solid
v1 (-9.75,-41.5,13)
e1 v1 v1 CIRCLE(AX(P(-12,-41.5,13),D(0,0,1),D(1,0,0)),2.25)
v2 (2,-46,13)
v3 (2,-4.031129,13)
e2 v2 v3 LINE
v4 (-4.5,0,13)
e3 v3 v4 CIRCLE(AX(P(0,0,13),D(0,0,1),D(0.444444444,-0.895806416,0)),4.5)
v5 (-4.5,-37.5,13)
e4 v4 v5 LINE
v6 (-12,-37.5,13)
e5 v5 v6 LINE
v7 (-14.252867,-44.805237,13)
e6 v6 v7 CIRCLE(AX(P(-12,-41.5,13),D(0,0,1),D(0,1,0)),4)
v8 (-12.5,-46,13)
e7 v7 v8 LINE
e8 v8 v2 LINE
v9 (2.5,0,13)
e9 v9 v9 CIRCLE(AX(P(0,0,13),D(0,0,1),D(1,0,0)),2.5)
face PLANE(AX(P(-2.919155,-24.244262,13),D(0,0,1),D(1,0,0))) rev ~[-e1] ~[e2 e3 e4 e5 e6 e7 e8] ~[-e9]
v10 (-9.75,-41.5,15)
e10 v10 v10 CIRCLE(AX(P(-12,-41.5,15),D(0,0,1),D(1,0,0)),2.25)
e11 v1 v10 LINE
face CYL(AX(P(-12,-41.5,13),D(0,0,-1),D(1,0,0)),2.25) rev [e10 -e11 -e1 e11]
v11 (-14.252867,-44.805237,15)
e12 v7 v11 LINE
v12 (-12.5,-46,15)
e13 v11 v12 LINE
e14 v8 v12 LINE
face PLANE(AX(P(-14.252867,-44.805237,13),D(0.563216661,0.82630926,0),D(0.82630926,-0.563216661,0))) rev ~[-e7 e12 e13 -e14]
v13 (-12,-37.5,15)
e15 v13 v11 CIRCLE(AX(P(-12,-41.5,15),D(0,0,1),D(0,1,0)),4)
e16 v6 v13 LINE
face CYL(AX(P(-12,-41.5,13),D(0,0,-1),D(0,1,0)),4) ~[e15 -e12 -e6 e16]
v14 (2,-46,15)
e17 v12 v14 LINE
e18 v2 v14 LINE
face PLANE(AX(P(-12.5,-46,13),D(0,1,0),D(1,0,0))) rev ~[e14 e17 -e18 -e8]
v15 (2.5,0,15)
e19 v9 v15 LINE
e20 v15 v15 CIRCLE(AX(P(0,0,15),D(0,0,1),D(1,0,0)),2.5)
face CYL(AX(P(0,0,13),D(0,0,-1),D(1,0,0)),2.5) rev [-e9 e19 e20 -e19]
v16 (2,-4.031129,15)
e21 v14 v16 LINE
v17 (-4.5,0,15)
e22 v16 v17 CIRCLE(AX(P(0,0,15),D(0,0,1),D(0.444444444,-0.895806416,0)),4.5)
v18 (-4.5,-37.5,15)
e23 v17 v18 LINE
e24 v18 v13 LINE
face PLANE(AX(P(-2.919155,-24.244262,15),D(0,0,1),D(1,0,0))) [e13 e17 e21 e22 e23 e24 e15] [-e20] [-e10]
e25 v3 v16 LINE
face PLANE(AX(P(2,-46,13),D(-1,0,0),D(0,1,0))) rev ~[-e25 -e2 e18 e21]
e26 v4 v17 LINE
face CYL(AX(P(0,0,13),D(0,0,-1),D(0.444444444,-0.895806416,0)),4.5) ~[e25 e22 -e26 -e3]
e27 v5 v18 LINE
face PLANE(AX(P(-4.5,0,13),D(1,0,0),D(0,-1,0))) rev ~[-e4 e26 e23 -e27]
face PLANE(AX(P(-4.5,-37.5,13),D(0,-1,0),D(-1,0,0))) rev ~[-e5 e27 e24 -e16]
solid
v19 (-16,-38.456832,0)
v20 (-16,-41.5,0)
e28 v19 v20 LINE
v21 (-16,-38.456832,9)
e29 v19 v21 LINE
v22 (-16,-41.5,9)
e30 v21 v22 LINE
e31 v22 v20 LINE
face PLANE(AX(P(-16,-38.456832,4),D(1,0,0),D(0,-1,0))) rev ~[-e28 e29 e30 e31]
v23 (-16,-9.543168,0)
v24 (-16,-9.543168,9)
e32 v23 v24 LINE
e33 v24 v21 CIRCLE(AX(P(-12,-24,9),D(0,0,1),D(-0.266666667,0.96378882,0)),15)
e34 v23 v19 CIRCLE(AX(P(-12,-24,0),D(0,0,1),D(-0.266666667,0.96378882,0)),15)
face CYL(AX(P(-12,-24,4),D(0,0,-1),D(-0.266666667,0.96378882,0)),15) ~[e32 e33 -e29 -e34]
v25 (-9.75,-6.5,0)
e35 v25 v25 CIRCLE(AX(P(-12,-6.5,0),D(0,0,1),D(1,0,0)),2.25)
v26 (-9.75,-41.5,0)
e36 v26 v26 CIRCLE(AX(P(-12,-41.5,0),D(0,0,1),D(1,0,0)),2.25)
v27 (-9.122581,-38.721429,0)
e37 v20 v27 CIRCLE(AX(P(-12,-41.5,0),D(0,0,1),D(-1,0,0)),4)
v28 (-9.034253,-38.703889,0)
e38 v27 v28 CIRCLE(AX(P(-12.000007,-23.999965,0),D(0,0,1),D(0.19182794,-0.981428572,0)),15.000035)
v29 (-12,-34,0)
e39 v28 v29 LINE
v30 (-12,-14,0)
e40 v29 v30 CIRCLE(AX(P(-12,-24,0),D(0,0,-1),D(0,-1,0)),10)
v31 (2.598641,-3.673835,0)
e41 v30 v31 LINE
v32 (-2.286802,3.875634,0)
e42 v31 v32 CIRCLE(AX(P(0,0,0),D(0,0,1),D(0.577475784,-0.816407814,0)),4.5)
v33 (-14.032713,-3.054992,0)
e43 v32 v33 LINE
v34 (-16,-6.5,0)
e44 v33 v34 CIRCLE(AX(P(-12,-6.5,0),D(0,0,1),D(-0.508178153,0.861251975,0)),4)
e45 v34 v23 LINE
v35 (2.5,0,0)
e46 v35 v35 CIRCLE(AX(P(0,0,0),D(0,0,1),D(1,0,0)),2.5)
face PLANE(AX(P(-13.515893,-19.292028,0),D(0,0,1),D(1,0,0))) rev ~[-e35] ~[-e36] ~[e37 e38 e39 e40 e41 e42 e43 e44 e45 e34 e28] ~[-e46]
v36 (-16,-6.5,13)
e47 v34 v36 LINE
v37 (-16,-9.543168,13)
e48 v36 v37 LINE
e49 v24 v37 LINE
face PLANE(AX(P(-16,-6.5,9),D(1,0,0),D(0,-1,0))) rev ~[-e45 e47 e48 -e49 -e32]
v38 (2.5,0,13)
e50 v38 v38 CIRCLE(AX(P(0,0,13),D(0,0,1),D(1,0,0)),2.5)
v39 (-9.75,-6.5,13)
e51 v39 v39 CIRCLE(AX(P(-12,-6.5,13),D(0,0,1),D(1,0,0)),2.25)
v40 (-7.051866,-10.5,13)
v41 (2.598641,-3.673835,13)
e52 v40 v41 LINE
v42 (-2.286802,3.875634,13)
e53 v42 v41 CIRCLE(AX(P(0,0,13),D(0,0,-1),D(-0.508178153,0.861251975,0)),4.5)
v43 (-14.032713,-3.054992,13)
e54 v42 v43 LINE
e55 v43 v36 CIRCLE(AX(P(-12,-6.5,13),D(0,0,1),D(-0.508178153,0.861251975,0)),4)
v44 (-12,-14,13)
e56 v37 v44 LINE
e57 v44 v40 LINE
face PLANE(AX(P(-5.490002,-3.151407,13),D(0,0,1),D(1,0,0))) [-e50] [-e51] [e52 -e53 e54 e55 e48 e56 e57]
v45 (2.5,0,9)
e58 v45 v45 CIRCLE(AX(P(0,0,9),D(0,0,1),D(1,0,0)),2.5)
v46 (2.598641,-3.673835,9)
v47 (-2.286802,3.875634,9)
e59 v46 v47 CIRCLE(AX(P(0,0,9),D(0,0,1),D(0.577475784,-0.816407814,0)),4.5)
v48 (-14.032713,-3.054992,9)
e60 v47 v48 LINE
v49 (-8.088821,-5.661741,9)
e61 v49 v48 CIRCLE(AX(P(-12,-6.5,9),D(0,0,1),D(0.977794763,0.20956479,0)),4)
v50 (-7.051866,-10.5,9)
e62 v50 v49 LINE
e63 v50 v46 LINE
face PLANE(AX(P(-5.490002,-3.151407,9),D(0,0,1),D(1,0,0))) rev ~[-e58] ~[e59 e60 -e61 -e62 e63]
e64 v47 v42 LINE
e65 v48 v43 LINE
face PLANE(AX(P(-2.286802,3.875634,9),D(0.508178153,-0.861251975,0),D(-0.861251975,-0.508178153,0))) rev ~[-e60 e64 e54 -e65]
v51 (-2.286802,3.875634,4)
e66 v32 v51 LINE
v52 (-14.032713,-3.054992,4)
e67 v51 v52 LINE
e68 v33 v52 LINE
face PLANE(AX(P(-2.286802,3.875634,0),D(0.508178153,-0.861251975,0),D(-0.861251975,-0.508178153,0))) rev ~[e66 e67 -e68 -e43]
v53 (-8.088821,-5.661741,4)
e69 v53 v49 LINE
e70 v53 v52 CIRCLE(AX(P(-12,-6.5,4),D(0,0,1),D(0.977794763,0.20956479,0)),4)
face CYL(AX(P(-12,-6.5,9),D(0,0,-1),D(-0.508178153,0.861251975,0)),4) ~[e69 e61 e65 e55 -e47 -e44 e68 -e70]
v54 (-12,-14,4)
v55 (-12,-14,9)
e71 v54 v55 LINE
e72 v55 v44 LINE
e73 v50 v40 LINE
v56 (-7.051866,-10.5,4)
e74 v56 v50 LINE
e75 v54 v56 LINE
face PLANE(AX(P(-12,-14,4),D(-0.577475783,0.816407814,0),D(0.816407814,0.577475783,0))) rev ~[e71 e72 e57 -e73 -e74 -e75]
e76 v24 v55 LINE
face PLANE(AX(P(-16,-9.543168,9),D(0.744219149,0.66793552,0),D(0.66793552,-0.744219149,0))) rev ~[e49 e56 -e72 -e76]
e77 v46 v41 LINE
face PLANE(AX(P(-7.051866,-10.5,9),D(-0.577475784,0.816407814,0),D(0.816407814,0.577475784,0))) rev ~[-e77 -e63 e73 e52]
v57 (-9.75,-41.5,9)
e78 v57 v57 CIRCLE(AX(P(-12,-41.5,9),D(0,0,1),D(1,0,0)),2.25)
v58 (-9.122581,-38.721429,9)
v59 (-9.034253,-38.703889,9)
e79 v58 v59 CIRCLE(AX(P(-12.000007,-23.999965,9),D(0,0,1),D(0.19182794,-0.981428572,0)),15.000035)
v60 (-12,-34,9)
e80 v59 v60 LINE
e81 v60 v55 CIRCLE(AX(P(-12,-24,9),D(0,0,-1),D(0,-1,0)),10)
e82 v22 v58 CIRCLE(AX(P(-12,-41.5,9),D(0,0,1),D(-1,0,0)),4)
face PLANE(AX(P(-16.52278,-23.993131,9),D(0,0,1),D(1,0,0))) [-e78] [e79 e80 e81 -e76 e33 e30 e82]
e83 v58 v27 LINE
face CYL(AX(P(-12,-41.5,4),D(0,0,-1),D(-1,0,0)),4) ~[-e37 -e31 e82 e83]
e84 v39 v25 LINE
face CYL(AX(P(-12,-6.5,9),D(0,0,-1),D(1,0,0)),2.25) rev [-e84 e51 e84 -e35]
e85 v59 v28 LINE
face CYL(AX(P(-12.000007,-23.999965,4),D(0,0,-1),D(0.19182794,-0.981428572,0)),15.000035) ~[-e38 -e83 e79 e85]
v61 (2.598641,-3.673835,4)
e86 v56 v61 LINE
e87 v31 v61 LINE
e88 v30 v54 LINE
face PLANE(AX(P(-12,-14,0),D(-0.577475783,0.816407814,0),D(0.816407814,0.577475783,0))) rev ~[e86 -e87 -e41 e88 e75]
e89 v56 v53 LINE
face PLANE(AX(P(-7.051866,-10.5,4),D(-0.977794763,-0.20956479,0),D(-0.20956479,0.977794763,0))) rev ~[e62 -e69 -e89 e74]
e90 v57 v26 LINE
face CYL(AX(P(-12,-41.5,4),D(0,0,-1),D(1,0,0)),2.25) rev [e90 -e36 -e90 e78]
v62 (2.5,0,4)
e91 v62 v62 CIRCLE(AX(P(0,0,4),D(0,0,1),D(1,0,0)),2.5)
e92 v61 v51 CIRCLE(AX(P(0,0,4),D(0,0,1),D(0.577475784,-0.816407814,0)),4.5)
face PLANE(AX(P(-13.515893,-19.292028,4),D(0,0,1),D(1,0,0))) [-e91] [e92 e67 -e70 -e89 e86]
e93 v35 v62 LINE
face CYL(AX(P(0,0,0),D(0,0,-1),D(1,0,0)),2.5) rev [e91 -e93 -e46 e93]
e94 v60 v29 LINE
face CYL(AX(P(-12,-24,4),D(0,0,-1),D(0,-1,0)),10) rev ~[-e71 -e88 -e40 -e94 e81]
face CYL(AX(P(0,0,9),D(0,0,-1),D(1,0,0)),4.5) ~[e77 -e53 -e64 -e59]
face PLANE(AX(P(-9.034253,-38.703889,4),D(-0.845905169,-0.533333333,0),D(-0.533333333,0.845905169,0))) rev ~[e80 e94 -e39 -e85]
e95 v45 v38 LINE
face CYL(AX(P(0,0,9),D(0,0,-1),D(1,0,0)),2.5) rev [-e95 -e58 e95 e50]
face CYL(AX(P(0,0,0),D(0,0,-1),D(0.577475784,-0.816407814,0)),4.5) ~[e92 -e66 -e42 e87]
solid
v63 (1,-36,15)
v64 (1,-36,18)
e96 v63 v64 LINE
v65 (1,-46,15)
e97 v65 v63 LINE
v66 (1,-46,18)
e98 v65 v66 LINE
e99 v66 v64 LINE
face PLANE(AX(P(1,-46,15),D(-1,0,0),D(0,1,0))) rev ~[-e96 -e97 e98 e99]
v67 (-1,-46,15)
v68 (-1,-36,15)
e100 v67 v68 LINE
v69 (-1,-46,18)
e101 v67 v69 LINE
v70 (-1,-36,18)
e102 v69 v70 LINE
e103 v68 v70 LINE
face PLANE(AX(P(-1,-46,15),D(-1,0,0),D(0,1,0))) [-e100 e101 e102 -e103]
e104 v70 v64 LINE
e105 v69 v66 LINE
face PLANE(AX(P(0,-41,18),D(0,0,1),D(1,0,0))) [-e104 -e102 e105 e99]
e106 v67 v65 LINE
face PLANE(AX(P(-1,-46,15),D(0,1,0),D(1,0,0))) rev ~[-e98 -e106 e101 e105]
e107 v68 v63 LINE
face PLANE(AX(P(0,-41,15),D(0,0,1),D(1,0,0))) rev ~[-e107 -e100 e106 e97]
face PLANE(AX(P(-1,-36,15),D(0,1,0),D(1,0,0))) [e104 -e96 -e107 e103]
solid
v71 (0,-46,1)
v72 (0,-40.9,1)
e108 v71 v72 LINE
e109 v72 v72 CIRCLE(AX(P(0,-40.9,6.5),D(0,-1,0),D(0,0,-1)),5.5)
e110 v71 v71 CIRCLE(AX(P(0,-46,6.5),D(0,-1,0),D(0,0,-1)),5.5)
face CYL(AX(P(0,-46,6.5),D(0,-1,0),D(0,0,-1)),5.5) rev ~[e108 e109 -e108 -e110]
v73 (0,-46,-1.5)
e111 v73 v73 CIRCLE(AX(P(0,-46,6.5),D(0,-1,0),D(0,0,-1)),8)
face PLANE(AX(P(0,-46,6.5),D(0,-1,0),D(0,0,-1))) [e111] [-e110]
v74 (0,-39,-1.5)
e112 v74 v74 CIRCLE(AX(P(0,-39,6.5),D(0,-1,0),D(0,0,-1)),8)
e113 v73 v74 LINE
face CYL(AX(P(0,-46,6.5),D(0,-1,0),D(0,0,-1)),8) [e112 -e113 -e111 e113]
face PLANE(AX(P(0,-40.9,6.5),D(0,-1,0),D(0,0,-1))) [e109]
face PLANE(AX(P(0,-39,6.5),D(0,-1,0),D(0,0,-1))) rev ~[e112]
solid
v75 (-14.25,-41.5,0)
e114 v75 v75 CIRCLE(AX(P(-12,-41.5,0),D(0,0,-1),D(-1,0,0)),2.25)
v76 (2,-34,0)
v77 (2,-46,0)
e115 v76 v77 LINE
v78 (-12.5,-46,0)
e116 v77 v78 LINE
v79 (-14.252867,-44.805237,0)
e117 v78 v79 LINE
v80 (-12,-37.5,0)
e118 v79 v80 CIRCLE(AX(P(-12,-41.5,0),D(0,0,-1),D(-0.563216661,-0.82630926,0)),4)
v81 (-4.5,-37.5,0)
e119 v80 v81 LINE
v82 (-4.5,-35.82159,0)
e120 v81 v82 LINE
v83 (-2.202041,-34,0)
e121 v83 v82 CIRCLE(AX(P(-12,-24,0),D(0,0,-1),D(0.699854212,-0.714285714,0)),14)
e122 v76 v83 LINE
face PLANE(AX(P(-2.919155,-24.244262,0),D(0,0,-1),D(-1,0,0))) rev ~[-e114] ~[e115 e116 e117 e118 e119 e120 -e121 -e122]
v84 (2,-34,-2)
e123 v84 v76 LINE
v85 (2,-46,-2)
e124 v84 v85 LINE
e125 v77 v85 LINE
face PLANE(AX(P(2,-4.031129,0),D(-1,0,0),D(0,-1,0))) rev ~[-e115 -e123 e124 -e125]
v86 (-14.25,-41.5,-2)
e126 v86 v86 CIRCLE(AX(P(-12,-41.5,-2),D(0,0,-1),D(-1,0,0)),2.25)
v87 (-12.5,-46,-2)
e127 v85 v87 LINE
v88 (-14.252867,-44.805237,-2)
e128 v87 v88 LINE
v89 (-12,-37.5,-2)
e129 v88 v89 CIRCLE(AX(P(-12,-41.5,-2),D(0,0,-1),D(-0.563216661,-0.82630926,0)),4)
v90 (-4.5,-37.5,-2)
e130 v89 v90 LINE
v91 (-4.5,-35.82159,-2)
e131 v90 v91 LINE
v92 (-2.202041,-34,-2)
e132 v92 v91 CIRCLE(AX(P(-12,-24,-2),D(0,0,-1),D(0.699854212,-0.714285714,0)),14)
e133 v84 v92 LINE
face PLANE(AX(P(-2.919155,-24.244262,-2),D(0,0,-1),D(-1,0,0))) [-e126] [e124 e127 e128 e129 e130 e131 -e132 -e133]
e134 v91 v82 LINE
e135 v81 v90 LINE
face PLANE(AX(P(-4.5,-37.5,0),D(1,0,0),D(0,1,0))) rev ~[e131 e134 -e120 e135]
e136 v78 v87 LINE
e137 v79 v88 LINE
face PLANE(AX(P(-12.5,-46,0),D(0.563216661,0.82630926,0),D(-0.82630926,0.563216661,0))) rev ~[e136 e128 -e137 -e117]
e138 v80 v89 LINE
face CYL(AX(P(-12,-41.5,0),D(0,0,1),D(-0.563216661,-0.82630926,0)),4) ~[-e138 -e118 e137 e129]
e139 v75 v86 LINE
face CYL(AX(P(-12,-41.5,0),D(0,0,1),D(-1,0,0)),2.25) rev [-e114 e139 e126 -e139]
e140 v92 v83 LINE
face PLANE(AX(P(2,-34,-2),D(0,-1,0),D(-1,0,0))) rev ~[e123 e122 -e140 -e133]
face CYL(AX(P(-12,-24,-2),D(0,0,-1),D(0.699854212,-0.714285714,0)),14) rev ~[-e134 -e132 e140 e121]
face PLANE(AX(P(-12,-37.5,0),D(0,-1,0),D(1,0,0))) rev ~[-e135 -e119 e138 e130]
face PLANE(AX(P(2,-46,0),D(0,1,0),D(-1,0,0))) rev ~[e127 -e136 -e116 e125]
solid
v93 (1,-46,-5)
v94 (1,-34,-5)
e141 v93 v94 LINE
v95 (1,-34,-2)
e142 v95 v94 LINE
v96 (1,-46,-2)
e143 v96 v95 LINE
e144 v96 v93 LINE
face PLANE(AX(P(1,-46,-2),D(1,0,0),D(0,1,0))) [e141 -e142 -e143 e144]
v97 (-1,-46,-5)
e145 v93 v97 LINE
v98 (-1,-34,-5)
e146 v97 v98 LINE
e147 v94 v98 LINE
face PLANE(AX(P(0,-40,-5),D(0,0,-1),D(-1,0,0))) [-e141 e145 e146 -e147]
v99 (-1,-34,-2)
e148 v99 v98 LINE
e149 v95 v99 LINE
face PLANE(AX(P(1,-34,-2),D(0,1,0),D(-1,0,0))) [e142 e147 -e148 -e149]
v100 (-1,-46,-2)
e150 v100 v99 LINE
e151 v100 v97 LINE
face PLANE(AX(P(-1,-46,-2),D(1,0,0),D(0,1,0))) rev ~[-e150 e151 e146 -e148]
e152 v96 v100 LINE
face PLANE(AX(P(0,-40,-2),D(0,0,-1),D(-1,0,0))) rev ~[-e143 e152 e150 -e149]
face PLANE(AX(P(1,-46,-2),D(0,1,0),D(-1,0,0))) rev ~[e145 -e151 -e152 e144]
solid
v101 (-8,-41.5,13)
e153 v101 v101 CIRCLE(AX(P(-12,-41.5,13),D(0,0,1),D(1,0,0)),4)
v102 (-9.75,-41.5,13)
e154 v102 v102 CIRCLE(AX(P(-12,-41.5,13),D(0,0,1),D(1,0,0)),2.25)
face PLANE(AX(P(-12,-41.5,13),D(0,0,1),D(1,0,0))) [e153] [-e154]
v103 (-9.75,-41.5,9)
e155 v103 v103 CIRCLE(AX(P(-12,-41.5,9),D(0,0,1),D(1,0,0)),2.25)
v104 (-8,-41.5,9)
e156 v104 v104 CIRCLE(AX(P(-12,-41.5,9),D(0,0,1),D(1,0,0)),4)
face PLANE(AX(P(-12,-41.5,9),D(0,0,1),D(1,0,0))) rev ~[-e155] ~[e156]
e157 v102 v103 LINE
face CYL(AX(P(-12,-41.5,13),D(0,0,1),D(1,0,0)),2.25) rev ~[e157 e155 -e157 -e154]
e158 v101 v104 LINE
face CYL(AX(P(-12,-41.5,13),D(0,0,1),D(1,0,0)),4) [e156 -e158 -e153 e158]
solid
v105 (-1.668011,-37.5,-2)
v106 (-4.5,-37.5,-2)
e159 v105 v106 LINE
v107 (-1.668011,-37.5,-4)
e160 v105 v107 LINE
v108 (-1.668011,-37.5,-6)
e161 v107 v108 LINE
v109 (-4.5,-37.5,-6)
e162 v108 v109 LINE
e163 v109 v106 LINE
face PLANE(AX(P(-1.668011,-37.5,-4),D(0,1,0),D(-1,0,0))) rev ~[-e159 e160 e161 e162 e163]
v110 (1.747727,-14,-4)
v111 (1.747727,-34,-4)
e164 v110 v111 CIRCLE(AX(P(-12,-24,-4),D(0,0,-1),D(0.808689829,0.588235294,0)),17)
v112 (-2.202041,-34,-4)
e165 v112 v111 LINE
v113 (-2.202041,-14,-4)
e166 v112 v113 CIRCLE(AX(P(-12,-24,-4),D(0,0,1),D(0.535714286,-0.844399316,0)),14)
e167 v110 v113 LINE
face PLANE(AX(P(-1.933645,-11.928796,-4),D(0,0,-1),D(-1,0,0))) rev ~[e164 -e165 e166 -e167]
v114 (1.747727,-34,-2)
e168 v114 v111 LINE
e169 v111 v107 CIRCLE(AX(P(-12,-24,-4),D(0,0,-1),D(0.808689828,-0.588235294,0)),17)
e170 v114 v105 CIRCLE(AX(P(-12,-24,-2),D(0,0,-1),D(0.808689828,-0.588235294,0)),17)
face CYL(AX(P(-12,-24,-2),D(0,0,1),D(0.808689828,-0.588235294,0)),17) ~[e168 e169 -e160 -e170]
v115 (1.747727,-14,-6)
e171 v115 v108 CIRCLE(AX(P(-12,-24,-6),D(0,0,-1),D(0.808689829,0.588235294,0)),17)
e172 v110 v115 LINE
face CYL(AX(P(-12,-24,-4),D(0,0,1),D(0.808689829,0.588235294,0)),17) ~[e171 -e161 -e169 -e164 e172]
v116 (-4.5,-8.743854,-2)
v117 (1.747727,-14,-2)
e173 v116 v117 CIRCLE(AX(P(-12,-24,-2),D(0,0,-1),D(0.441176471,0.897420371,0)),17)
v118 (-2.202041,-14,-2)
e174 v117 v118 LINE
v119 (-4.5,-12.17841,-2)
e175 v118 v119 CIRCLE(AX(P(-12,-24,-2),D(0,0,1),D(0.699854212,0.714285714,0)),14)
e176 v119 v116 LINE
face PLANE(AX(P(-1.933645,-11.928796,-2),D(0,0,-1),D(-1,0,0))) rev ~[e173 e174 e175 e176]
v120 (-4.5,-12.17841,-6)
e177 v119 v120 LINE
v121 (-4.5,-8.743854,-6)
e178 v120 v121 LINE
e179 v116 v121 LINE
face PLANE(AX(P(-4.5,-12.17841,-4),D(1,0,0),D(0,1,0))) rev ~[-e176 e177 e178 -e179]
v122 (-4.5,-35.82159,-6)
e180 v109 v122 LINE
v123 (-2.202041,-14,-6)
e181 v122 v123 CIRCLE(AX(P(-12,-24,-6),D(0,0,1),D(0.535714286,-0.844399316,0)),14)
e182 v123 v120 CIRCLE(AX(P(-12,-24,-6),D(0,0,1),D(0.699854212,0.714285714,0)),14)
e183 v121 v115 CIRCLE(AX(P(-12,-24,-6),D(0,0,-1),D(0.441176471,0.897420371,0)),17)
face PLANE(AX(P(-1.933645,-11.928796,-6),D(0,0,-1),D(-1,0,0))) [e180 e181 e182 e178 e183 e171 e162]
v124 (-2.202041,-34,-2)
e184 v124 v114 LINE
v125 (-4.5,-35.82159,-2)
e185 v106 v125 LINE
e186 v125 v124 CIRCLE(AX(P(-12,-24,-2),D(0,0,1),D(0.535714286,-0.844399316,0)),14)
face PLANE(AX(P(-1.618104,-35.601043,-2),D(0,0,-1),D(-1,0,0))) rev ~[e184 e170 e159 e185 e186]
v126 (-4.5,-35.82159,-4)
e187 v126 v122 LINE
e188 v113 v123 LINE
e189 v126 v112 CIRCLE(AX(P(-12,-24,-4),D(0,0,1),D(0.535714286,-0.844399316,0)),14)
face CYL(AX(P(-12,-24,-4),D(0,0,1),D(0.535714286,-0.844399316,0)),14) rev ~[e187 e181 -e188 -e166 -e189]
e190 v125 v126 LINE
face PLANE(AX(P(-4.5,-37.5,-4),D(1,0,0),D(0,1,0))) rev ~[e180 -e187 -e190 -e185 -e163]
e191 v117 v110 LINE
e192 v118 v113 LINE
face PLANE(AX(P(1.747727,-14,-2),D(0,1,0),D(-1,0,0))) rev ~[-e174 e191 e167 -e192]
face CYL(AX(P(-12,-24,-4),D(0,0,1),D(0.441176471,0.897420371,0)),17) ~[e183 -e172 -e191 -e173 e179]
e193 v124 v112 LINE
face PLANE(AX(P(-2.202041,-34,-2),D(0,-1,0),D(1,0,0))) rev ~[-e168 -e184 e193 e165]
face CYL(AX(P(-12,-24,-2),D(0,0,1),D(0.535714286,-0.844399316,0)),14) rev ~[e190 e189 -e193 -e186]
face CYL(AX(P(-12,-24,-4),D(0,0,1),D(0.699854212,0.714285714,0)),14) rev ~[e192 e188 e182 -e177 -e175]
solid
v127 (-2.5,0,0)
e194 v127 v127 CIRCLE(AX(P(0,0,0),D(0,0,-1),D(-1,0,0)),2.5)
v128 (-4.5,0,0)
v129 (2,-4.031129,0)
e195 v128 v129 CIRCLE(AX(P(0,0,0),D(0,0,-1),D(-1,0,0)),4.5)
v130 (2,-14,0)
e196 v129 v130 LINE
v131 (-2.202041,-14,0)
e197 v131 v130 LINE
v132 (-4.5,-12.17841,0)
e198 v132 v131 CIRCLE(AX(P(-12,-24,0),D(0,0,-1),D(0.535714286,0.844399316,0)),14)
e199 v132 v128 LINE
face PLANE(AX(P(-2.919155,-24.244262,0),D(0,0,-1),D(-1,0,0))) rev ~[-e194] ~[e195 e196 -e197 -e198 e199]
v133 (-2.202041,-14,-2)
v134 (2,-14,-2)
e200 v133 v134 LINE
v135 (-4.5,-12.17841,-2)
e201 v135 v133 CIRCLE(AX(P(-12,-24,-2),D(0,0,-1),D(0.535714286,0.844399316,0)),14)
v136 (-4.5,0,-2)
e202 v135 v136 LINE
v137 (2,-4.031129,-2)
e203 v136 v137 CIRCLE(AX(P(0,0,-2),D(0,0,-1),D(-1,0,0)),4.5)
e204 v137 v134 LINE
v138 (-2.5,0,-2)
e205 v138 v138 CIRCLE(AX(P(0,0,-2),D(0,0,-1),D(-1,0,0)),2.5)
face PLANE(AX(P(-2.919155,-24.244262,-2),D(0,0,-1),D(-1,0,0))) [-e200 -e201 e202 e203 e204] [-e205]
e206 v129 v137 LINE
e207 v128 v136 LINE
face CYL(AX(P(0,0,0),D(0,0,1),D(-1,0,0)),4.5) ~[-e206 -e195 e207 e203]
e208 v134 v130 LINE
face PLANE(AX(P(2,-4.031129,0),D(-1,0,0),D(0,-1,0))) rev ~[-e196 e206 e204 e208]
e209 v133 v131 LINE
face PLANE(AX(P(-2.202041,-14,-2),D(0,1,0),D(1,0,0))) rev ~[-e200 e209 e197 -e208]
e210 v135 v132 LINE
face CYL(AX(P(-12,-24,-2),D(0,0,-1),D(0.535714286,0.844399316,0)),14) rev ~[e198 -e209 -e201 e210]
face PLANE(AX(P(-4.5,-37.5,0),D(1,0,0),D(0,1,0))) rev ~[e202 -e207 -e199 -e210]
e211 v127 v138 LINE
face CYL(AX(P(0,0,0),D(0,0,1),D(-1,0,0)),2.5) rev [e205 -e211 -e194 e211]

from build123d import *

# Parameters (mm, degrees)
SKETCH_1_R          = 2.25
SKETCH_1_R_2        = 2.5
EXTRUDE_1_DEPTH     = 4
SKETCH_2_R          = 2.25
EXTRUDE_2_DEPTH     = 5
SKETCH_5_R          = 2.25
SKETCH_5_R_2        = 4.5
SKETCH_5_R_3        = 2.5
EXTRUDE_3_DEPTH     = 4
SKETCH_6_R          = 2.5
SKETCH_6_R_2        = 2.25
EXTRUDE_6_DEPTH     = 2
SKETCH_6_3_R        = 4
SKETCH_6_3_R_2      = 2.25
EXTRUDE_8_DEPTH     = 4
SKETCH_7_R          = 2.5
SKETCH_7_R_2        = 2.25
EXTRUDE_9_DEPTH     = 2
CUT_EXTRUDE_1_DEPTH = 2
EXTRUDE_10_DEPTH    = 2
EXTRUDE_10_2_DEPTH  = 2
EXTRUDE_11_DEPTH    = 2
SKETCH_12_R         = 8
EXTRUDE_12_DEPTH    = 7
SKETCH_13_R         = 5.5
CUT_EXTRUDE_2_DEPTH = 5.1
SKETCH_14_W         = 2
SKETCH_14_H         = 10
EXTRUDE_13_DEPTH    = 3
SKETCH_15_W         = 2
SKETCH_15_H         = 12
EXTRUDE_14_DEPTH    = 3


with BuildPart() as part:
    # Эскиз1 → Бобышка-Вытянуть1 (new body)
    with BuildSketch(Plane.XY):
        with BuildLine():
            Line((-2.286801689, 3.875633888), (-14.032712613, -3.0549921))
            ThreePointArc((-14.032712613, -3.0549921), (-15.473532097, -4.516423741), (-16, -6.5))
            Line((-16, -6.5), (-16, -9.543167705))
            ThreePointArc((-16, -9.543167705), (-27, -24), (-16, -38.456832295))
            Line((-16, -38.456832295), (-16, -41.5))
            ThreePointArc((-16, -41.5), (-10.501613617, -45.208751575), (-9.122580876, -38.721428571))
            ThreePointArc((-9.122580876, -38.721428571), (-9.078403799, -38.712724956), (-9.034253047, -38.703888772))
            Line((-9.034253047, -38.703888772), (-12, -34))
            ThreePointArc((-12, -34), (-22, -24), (-12, -14))
            Line((-12, -14), (2.598641026, -3.673835165))
            ThreePointArc((2.598641026, -3.673835165), (3.777953373, 2.44480435), (-2.286801689, 3.875633888))
        make_face()
        with Locations((-12, -41.5)):
            Circle(SKETCH_1_R, mode=Mode.SUBTRACT)
        with Locations((-12, -6.5)):
            Circle(SKETCH_1_R, mode=Mode.SUBTRACT)
        Circle(SKETCH_1_R_2, mode=Mode.SUBTRACT)
    extrude(amount=EXTRUDE_1_DEPTH)

    # Эскиз2 → Бобышка-Вытянуть2 (add)
    # profile 1 of 2: a face of its own
    with BuildSketch(Plane.XY.offset(4)):
        with BuildLine():
            Line((-7.05186636, -10.5), (-8.088820948, -5.66174084))
            ThreePointArc((-8.088820948, -5.66174084), (-8.022267215, -6.078524147), (-8, -6.5))
            ThreePointArc((-8, -6.5), (-12, -10.5), (-16, -6.5))
            Line((-16, -6.5), (-16, -9.543167705))
            ThreePointArc((-16, -9.543167705), (-27, -24), (-16, -38.456832295))
            Line((-16, -38.456832295), (-16, -41.5))
            ThreePointArc((-16, -41.5), (-10.501613617, -45.208751575), (-9.122580876, -38.721428571))
            ThreePointArc((-9.122580876, -38.721428571), (-9.078403799, -38.712724956), (-9.034253047, -38.703888772))
            Line((-9.034253047, -38.703888772), (-12, -34))
            ThreePointArc((-12, -34), (-22, -24), (-12, -14))
            Line((-12, -14), (-7.05186636, -10.5))
        make_face()
        with Locations((-12, -41.5)):
            Circle(SKETCH_2_R, mode=Mode.SUBTRACT)
    # profile 2 of 2: a face of its own
    with BuildSketch(Plane.XY.offset(4)):
        with BuildLine():
            ThreePointArc((-8, -6.5), (-8.022267215, -6.078524147), (-8.088820948, -5.66174084))
            ThreePointArc((-8.088820948, -5.66174084), (-10.393468397, -2.836797001), (-14.032712613, -3.0549921))
            ThreePointArc((-14.032712613, -3.0549921), (-15.473532097, -4.516423741), (-16, -6.5))
            ThreePointArc((-16, -6.5), (-12, -10.5), (-8, -6.5))
        make_face()
        with Locations((-12, -6.5)):
            Circle(SKETCH_2_R, mode=Mode.SUBTRACT)
    extrude(amount=EXTRUDE_2_DEPTH)

    # Эскиз5 → Бобышка-Вытянуть3 (add)
    # profile 1 of 4: a face of its own
    with BuildSketch(Plane.XY.offset(9)):
        with BuildLine():
            Line((-2.286801689, 3.875633888), (-14.032712613, -3.0549921))
            ThreePointArc((-14.032712613, -3.0549921), (-10.393468397, -2.836797001), (-8.088820948, -5.66174084))
            Line((-8.088820948, -5.66174084), (-7.05186636, -10.5))
            Line((-7.05186636, -10.5), (2.598641026, -3.673835165))
            ThreePointArc((2.598641026, -3.673835165), (-3.777953373, -2.44480435), (-2.286801689, 3.875633888))
        make_face()
    # profile 2 of 4: a face of its own
    with BuildSketch(Plane.XY.offset(9)):
        with BuildLine():
            ThreePointArc((-8.088820948, -5.66174084), (-10.393468397, -2.836797001), (-14.032712613, -3.0549921))
            ThreePointArc((-14.032712613, -3.0549921), (-15.473532097, -4.516423741), (-16, -6.5))
            ThreePointArc((-16, -6.5), (-12, -10.5), (-8, -6.5))
            ThreePointArc((-8, -6.5), (-8.022267215, -6.078524147), (-8.088820948, -5.66174084))
        make_face()
        with Locations((-12, -6.5)):
            Circle(SKETCH_5_R, mode=Mode.SUBTRACT)
    # profile 3 of 4: a face of its own
    with BuildSketch(Plane.XY.offset(9)):
        with BuildLine():
            Line((-7.05186636, -10.5), (-8.088820948, -5.66174084))
            ThreePointArc((-8.088820948, -5.66174084), (-8.022267215, -6.078524147), (-8, -6.5))
            ThreePointArc((-8, -6.5), (-12, -10.5), (-16, -6.5))
            Line((-16, -6.5), (-16, -9.543167705))
            Line((-16, -9.543167705), (-12, -14))
            Line((-12, -14), (-7.05186636, -10.5))
        make_face()
    # profile 4 of 4: a face of its own
    with BuildSketch(Plane.XY.offset(9)):
        Circle(SKETCH_5_R_2)
        Circle(SKETCH_5_R_3, mode=Mode.SUBTRACT)
    extrude(amount=EXTRUDE_3_DEPTH)


with BuildPart() as body_2:
    # Эскиз6 → Бобышка-Вытянуть6 (new body)
    with BuildSketch(Plane.XY.offset(13)):
        with BuildLine():
            ThreePointArc((2, -4.031128874), (2.371708245, 3.824264635), (-4.5, 0))
            Line((-4.5, 0), (-4.5, -37.5))
            Line((-4.5, -37.5), (-12, -37.5))
            ThreePointArc((-12, -37.5), (-15.822364985, -40.321218459), (-14.252866643, -44.80523704))
            Line((-14.252866643, -44.80523704), (-12.5, -46))
            Line((-12.5, -46), (2, -46))
            Line((2, -46), (2, -4.031128874))
        make_face()
        Circle(SKETCH_6_R, mode=Mode.SUBTRACT)
        with Locations((-12, -41.5)):
            Circle(SKETCH_6_R_2, mode=Mode.SUBTRACT)
    extrude(amount=EXTRUDE_6_DEPTH)


with BuildPart() as body_3:
    # Эскиз6<3> → Бобышка-Вытянуть8 (new body)
    with BuildSketch(Plane.XY.offset(13)):
        with Locations((-12, -41.5)):
            Circle(SKETCH_6_3_R)
        with Locations((-12, -41.5)):
            Circle(SKETCH_6_3_R_2, mode=Mode.SUBTRACT)
    extrude(amount=-EXTRUDE_8_DEPTH)


with BuildPart() as body_4:
    # Эскиз7 → Бобышка-Вытянуть9 (new body)
    with BuildSketch(Plane(origin=(0, 0, 0), x_dir=(-1, 0, 0), z_dir=(0, 0, -1))):
        with BuildLine():
            ThreePointArc((4.5, 0), (-2.371708245, 3.824264635), (-2, -4.031128874))
            Line((-2, -4.031128874), (-2, -46))
            Line((-2, -46), (12.5, -46))
            Line((12.5, -46), (14.252866643, -44.80523704))
            ThreePointArc((14.252866643, -44.80523704), (15.822364985, -40.321218459), (12, -37.5))
            Line((12, -37.5), (4.5, -37.5))
            Line((4.5, -37.5), (4.5, 0))
        make_face()
        Circle(SKETCH_7_R, mode=Mode.SUBTRACT)
        with Locations((12, -41.5)):
            Circle(SKETCH_7_R_2, mode=Mode.SUBTRACT)
    extrude(amount=EXTRUDE_9_DEPTH)

    # Эскиз9 → Вырез-Вытянуть1 (cut)
    with BuildSketch(Plane(origin=(0, 0, -2), x_dir=(-1, 0, 0), z_dir=(0, 0, -1))):
        with BuildLine():
            ThreePointArc((4.5, -12.178409582), (3.303196331, -13.028873989), (2.202041029, -14))
            ThreePointArc((2.202041029, -14), (-0.906808777, -18.576505997), (-2, -24))
            ThreePointArc((-2, -24), (-0.906808777, -29.423494003), (2.202041029, -34))
            ThreePointArc((2.202041029, -34), (3.303196331, -34.971126011), (4.5, -35.821590418))
            Line((4.5, -35.821590418), (4.5, -12.178409582))
        make_face()
        with BuildLine():
            Line((2.202041029, -14), (-2, -14))
            Line((-2, -14), (-2, -24))
            ThreePointArc((-2, -24), (-0.906808777, -18.576505997), (2.202041029, -14))
        make_face()
        with BuildLine():
            ThreePointArc((2.202041029, -34), (-0.906808777, -29.423494003), (-2, -24))
            Line((-2, -24), (-2, -34))
            Line((-2, -34), (2.202041029, -34))
        make_face()
    extrude(amount=-CUT_EXTRUDE_1_DEPTH, mode=Mode.SUBTRACT)


with BuildPart() as cut_extrude_1_piece_1:
    # of the separate pieces the step leaves, piece 1, a body of its own (cut_extrude_1_pieces)
    add(body_4.part.solids().sort_by_distance((-12, -37.5, 0))[0])


with BuildPart() as cut_extrude_1_piece_2:
    # of the separate pieces the step leaves, piece 2, a body of its own (cut_extrude_1_pieces)
    add(body_4.part.solids().sort_by_distance((-4.5, -12.178409582, 0))[0])


with BuildPart() as body_6:
    # Эскиз10 → Бобышка-Вытянуть10 (new body)
    with BuildSketch(Plane(origin=(0, 0, -2), x_dir=(-1, 0, 0), z_dir=(0, 0, -1))):
        with BuildLine():
            Line((1.66801084, -37.5), (4.5, -37.5))
            Line((4.5, -37.5), (4.5, -35.821590418))
            ThreePointArc((4.5, -35.821590418), (3.303196331, -34.971126011), (2.202041029, -34))
            Line((2.202041029, -34), (-1.747727085, -34))
            ThreePointArc((-1.747727085, -34), (-0.166375122, -35.873471118), (1.66801084, -37.5))
        make_face()
    extrude(amount=EXTRUDE_10_DEPTH)



with BuildPart() as body_7:
    # Эскиз10 → Extrude 10 2 (new body)
    with BuildSketch(Plane(origin=(0, 0, -2), x_dir=(-1, 0, 0), z_dir=(0, 0, -1))):
        with BuildLine():
            ThreePointArc((4.5, -8.743853698), (1.055903644, -10.99128158), (-1.747727085, -14))
            Line((-1.747727085, -14), (2.202041029, -14))
            ThreePointArc((2.202041029, -14), (3.303196331, -13.028873989), (4.5, -12.178409582))
            Line((4.5, -12.178409582), (4.5, -8.743853698))
        make_face()
    extrude(amount=EXTRUDE_10_2_DEPTH)


with BuildPart() as body_6_1:
    add(body_6.part)

    add(body_7.part)  # Бобышка-Вытянуть11 merges body 7
    # Эскиз11 → Бобышка-Вытянуть11 (add)
    with BuildSketch(Plane(origin=(0, 0, -4), x_dir=(-1, 0, 0), z_dir=(0, 0, -1))):
        with BuildLine():
            ThreePointArc((2.202041029, -14), (3.303196331, -13.028873989), (4.5, -12.178409582))
            Line((4.5, -12.178409582), (4.5, -8.743853698))
            ThreePointArc((4.5, -8.743853698), (1.055903644, -10.99128158), (-1.747727085, -14))
            Line((-1.747727085, -14), (2.202041029, -14))
        make_face()
        with BuildLine():
            Line((2.202041029, -14), (-1.747727085, -14))
            ThreePointArc((-1.747727085, -14), (-4.823218586, -26.445264074), (1.66801084, -37.5))
            Line((1.66801084, -37.5), (4.5, -37.5))
            Line((4.5, -37.5), (4.5, -35.821590418))
            ThreePointArc((4.5, -35.821590418), (-1.92301326, -25.466186131), (2.202041029, -14))
        make_face()
    extrude(amount=EXTRUDE_11_DEPTH)


with BuildPart() as body_7_2:
    # Эскиз12 → Бобышка-Вытянуть12 (new body)
    with BuildSketch(Plane.XZ.offset(46)):
        with Locations(Location((0, 6.5, 0), (0, 0, 270))):
            Circle(SKETCH_12_R)
    extrude(amount=-EXTRUDE_12_DEPTH)

    # Эскиз13 → Вырез-Вытянуть2 (cut)
    with BuildSketch(Plane.XZ.offset(46)):
        with Locations(Location((0, 6.5, 0), (0, 0, 270))):
            Circle(SKETCH_13_R)
    extrude(amount=-CUT_EXTRUDE_2_DEPTH, mode=Mode.SUBTRACT)


with BuildPart() as body_8:
    # Эскиз14 → Бобышка-Вытянуть13 (new body)
    with BuildSketch(Plane.XY.offset(15)):
        with Locations((0, -41)):
            Rectangle(SKETCH_14_W, SKETCH_14_H)
    extrude(amount=EXTRUDE_13_DEPTH)


with BuildPart() as body_9:
    # Эскиз15 → Бобышка-Вытянуть14 (new body)
    with BuildSketch(Plane(origin=(0, 0, -2), x_dir=(-1, 0, 0), z_dir=(0, 0, -1))):
        with Locations((0, -40)):
            Rectangle(SKETCH_15_W, SKETCH_15_H)
    extrude(amount=EXTRUDE_14_DEPTH)


solid = Compound([part.part, body_2.part, body_3.part, cut_extrude_1_piece_1.part, cut_extrude_1_piece_2.part, body_6_1.part, body_7_2.part, body_8.part, body_9.part])
